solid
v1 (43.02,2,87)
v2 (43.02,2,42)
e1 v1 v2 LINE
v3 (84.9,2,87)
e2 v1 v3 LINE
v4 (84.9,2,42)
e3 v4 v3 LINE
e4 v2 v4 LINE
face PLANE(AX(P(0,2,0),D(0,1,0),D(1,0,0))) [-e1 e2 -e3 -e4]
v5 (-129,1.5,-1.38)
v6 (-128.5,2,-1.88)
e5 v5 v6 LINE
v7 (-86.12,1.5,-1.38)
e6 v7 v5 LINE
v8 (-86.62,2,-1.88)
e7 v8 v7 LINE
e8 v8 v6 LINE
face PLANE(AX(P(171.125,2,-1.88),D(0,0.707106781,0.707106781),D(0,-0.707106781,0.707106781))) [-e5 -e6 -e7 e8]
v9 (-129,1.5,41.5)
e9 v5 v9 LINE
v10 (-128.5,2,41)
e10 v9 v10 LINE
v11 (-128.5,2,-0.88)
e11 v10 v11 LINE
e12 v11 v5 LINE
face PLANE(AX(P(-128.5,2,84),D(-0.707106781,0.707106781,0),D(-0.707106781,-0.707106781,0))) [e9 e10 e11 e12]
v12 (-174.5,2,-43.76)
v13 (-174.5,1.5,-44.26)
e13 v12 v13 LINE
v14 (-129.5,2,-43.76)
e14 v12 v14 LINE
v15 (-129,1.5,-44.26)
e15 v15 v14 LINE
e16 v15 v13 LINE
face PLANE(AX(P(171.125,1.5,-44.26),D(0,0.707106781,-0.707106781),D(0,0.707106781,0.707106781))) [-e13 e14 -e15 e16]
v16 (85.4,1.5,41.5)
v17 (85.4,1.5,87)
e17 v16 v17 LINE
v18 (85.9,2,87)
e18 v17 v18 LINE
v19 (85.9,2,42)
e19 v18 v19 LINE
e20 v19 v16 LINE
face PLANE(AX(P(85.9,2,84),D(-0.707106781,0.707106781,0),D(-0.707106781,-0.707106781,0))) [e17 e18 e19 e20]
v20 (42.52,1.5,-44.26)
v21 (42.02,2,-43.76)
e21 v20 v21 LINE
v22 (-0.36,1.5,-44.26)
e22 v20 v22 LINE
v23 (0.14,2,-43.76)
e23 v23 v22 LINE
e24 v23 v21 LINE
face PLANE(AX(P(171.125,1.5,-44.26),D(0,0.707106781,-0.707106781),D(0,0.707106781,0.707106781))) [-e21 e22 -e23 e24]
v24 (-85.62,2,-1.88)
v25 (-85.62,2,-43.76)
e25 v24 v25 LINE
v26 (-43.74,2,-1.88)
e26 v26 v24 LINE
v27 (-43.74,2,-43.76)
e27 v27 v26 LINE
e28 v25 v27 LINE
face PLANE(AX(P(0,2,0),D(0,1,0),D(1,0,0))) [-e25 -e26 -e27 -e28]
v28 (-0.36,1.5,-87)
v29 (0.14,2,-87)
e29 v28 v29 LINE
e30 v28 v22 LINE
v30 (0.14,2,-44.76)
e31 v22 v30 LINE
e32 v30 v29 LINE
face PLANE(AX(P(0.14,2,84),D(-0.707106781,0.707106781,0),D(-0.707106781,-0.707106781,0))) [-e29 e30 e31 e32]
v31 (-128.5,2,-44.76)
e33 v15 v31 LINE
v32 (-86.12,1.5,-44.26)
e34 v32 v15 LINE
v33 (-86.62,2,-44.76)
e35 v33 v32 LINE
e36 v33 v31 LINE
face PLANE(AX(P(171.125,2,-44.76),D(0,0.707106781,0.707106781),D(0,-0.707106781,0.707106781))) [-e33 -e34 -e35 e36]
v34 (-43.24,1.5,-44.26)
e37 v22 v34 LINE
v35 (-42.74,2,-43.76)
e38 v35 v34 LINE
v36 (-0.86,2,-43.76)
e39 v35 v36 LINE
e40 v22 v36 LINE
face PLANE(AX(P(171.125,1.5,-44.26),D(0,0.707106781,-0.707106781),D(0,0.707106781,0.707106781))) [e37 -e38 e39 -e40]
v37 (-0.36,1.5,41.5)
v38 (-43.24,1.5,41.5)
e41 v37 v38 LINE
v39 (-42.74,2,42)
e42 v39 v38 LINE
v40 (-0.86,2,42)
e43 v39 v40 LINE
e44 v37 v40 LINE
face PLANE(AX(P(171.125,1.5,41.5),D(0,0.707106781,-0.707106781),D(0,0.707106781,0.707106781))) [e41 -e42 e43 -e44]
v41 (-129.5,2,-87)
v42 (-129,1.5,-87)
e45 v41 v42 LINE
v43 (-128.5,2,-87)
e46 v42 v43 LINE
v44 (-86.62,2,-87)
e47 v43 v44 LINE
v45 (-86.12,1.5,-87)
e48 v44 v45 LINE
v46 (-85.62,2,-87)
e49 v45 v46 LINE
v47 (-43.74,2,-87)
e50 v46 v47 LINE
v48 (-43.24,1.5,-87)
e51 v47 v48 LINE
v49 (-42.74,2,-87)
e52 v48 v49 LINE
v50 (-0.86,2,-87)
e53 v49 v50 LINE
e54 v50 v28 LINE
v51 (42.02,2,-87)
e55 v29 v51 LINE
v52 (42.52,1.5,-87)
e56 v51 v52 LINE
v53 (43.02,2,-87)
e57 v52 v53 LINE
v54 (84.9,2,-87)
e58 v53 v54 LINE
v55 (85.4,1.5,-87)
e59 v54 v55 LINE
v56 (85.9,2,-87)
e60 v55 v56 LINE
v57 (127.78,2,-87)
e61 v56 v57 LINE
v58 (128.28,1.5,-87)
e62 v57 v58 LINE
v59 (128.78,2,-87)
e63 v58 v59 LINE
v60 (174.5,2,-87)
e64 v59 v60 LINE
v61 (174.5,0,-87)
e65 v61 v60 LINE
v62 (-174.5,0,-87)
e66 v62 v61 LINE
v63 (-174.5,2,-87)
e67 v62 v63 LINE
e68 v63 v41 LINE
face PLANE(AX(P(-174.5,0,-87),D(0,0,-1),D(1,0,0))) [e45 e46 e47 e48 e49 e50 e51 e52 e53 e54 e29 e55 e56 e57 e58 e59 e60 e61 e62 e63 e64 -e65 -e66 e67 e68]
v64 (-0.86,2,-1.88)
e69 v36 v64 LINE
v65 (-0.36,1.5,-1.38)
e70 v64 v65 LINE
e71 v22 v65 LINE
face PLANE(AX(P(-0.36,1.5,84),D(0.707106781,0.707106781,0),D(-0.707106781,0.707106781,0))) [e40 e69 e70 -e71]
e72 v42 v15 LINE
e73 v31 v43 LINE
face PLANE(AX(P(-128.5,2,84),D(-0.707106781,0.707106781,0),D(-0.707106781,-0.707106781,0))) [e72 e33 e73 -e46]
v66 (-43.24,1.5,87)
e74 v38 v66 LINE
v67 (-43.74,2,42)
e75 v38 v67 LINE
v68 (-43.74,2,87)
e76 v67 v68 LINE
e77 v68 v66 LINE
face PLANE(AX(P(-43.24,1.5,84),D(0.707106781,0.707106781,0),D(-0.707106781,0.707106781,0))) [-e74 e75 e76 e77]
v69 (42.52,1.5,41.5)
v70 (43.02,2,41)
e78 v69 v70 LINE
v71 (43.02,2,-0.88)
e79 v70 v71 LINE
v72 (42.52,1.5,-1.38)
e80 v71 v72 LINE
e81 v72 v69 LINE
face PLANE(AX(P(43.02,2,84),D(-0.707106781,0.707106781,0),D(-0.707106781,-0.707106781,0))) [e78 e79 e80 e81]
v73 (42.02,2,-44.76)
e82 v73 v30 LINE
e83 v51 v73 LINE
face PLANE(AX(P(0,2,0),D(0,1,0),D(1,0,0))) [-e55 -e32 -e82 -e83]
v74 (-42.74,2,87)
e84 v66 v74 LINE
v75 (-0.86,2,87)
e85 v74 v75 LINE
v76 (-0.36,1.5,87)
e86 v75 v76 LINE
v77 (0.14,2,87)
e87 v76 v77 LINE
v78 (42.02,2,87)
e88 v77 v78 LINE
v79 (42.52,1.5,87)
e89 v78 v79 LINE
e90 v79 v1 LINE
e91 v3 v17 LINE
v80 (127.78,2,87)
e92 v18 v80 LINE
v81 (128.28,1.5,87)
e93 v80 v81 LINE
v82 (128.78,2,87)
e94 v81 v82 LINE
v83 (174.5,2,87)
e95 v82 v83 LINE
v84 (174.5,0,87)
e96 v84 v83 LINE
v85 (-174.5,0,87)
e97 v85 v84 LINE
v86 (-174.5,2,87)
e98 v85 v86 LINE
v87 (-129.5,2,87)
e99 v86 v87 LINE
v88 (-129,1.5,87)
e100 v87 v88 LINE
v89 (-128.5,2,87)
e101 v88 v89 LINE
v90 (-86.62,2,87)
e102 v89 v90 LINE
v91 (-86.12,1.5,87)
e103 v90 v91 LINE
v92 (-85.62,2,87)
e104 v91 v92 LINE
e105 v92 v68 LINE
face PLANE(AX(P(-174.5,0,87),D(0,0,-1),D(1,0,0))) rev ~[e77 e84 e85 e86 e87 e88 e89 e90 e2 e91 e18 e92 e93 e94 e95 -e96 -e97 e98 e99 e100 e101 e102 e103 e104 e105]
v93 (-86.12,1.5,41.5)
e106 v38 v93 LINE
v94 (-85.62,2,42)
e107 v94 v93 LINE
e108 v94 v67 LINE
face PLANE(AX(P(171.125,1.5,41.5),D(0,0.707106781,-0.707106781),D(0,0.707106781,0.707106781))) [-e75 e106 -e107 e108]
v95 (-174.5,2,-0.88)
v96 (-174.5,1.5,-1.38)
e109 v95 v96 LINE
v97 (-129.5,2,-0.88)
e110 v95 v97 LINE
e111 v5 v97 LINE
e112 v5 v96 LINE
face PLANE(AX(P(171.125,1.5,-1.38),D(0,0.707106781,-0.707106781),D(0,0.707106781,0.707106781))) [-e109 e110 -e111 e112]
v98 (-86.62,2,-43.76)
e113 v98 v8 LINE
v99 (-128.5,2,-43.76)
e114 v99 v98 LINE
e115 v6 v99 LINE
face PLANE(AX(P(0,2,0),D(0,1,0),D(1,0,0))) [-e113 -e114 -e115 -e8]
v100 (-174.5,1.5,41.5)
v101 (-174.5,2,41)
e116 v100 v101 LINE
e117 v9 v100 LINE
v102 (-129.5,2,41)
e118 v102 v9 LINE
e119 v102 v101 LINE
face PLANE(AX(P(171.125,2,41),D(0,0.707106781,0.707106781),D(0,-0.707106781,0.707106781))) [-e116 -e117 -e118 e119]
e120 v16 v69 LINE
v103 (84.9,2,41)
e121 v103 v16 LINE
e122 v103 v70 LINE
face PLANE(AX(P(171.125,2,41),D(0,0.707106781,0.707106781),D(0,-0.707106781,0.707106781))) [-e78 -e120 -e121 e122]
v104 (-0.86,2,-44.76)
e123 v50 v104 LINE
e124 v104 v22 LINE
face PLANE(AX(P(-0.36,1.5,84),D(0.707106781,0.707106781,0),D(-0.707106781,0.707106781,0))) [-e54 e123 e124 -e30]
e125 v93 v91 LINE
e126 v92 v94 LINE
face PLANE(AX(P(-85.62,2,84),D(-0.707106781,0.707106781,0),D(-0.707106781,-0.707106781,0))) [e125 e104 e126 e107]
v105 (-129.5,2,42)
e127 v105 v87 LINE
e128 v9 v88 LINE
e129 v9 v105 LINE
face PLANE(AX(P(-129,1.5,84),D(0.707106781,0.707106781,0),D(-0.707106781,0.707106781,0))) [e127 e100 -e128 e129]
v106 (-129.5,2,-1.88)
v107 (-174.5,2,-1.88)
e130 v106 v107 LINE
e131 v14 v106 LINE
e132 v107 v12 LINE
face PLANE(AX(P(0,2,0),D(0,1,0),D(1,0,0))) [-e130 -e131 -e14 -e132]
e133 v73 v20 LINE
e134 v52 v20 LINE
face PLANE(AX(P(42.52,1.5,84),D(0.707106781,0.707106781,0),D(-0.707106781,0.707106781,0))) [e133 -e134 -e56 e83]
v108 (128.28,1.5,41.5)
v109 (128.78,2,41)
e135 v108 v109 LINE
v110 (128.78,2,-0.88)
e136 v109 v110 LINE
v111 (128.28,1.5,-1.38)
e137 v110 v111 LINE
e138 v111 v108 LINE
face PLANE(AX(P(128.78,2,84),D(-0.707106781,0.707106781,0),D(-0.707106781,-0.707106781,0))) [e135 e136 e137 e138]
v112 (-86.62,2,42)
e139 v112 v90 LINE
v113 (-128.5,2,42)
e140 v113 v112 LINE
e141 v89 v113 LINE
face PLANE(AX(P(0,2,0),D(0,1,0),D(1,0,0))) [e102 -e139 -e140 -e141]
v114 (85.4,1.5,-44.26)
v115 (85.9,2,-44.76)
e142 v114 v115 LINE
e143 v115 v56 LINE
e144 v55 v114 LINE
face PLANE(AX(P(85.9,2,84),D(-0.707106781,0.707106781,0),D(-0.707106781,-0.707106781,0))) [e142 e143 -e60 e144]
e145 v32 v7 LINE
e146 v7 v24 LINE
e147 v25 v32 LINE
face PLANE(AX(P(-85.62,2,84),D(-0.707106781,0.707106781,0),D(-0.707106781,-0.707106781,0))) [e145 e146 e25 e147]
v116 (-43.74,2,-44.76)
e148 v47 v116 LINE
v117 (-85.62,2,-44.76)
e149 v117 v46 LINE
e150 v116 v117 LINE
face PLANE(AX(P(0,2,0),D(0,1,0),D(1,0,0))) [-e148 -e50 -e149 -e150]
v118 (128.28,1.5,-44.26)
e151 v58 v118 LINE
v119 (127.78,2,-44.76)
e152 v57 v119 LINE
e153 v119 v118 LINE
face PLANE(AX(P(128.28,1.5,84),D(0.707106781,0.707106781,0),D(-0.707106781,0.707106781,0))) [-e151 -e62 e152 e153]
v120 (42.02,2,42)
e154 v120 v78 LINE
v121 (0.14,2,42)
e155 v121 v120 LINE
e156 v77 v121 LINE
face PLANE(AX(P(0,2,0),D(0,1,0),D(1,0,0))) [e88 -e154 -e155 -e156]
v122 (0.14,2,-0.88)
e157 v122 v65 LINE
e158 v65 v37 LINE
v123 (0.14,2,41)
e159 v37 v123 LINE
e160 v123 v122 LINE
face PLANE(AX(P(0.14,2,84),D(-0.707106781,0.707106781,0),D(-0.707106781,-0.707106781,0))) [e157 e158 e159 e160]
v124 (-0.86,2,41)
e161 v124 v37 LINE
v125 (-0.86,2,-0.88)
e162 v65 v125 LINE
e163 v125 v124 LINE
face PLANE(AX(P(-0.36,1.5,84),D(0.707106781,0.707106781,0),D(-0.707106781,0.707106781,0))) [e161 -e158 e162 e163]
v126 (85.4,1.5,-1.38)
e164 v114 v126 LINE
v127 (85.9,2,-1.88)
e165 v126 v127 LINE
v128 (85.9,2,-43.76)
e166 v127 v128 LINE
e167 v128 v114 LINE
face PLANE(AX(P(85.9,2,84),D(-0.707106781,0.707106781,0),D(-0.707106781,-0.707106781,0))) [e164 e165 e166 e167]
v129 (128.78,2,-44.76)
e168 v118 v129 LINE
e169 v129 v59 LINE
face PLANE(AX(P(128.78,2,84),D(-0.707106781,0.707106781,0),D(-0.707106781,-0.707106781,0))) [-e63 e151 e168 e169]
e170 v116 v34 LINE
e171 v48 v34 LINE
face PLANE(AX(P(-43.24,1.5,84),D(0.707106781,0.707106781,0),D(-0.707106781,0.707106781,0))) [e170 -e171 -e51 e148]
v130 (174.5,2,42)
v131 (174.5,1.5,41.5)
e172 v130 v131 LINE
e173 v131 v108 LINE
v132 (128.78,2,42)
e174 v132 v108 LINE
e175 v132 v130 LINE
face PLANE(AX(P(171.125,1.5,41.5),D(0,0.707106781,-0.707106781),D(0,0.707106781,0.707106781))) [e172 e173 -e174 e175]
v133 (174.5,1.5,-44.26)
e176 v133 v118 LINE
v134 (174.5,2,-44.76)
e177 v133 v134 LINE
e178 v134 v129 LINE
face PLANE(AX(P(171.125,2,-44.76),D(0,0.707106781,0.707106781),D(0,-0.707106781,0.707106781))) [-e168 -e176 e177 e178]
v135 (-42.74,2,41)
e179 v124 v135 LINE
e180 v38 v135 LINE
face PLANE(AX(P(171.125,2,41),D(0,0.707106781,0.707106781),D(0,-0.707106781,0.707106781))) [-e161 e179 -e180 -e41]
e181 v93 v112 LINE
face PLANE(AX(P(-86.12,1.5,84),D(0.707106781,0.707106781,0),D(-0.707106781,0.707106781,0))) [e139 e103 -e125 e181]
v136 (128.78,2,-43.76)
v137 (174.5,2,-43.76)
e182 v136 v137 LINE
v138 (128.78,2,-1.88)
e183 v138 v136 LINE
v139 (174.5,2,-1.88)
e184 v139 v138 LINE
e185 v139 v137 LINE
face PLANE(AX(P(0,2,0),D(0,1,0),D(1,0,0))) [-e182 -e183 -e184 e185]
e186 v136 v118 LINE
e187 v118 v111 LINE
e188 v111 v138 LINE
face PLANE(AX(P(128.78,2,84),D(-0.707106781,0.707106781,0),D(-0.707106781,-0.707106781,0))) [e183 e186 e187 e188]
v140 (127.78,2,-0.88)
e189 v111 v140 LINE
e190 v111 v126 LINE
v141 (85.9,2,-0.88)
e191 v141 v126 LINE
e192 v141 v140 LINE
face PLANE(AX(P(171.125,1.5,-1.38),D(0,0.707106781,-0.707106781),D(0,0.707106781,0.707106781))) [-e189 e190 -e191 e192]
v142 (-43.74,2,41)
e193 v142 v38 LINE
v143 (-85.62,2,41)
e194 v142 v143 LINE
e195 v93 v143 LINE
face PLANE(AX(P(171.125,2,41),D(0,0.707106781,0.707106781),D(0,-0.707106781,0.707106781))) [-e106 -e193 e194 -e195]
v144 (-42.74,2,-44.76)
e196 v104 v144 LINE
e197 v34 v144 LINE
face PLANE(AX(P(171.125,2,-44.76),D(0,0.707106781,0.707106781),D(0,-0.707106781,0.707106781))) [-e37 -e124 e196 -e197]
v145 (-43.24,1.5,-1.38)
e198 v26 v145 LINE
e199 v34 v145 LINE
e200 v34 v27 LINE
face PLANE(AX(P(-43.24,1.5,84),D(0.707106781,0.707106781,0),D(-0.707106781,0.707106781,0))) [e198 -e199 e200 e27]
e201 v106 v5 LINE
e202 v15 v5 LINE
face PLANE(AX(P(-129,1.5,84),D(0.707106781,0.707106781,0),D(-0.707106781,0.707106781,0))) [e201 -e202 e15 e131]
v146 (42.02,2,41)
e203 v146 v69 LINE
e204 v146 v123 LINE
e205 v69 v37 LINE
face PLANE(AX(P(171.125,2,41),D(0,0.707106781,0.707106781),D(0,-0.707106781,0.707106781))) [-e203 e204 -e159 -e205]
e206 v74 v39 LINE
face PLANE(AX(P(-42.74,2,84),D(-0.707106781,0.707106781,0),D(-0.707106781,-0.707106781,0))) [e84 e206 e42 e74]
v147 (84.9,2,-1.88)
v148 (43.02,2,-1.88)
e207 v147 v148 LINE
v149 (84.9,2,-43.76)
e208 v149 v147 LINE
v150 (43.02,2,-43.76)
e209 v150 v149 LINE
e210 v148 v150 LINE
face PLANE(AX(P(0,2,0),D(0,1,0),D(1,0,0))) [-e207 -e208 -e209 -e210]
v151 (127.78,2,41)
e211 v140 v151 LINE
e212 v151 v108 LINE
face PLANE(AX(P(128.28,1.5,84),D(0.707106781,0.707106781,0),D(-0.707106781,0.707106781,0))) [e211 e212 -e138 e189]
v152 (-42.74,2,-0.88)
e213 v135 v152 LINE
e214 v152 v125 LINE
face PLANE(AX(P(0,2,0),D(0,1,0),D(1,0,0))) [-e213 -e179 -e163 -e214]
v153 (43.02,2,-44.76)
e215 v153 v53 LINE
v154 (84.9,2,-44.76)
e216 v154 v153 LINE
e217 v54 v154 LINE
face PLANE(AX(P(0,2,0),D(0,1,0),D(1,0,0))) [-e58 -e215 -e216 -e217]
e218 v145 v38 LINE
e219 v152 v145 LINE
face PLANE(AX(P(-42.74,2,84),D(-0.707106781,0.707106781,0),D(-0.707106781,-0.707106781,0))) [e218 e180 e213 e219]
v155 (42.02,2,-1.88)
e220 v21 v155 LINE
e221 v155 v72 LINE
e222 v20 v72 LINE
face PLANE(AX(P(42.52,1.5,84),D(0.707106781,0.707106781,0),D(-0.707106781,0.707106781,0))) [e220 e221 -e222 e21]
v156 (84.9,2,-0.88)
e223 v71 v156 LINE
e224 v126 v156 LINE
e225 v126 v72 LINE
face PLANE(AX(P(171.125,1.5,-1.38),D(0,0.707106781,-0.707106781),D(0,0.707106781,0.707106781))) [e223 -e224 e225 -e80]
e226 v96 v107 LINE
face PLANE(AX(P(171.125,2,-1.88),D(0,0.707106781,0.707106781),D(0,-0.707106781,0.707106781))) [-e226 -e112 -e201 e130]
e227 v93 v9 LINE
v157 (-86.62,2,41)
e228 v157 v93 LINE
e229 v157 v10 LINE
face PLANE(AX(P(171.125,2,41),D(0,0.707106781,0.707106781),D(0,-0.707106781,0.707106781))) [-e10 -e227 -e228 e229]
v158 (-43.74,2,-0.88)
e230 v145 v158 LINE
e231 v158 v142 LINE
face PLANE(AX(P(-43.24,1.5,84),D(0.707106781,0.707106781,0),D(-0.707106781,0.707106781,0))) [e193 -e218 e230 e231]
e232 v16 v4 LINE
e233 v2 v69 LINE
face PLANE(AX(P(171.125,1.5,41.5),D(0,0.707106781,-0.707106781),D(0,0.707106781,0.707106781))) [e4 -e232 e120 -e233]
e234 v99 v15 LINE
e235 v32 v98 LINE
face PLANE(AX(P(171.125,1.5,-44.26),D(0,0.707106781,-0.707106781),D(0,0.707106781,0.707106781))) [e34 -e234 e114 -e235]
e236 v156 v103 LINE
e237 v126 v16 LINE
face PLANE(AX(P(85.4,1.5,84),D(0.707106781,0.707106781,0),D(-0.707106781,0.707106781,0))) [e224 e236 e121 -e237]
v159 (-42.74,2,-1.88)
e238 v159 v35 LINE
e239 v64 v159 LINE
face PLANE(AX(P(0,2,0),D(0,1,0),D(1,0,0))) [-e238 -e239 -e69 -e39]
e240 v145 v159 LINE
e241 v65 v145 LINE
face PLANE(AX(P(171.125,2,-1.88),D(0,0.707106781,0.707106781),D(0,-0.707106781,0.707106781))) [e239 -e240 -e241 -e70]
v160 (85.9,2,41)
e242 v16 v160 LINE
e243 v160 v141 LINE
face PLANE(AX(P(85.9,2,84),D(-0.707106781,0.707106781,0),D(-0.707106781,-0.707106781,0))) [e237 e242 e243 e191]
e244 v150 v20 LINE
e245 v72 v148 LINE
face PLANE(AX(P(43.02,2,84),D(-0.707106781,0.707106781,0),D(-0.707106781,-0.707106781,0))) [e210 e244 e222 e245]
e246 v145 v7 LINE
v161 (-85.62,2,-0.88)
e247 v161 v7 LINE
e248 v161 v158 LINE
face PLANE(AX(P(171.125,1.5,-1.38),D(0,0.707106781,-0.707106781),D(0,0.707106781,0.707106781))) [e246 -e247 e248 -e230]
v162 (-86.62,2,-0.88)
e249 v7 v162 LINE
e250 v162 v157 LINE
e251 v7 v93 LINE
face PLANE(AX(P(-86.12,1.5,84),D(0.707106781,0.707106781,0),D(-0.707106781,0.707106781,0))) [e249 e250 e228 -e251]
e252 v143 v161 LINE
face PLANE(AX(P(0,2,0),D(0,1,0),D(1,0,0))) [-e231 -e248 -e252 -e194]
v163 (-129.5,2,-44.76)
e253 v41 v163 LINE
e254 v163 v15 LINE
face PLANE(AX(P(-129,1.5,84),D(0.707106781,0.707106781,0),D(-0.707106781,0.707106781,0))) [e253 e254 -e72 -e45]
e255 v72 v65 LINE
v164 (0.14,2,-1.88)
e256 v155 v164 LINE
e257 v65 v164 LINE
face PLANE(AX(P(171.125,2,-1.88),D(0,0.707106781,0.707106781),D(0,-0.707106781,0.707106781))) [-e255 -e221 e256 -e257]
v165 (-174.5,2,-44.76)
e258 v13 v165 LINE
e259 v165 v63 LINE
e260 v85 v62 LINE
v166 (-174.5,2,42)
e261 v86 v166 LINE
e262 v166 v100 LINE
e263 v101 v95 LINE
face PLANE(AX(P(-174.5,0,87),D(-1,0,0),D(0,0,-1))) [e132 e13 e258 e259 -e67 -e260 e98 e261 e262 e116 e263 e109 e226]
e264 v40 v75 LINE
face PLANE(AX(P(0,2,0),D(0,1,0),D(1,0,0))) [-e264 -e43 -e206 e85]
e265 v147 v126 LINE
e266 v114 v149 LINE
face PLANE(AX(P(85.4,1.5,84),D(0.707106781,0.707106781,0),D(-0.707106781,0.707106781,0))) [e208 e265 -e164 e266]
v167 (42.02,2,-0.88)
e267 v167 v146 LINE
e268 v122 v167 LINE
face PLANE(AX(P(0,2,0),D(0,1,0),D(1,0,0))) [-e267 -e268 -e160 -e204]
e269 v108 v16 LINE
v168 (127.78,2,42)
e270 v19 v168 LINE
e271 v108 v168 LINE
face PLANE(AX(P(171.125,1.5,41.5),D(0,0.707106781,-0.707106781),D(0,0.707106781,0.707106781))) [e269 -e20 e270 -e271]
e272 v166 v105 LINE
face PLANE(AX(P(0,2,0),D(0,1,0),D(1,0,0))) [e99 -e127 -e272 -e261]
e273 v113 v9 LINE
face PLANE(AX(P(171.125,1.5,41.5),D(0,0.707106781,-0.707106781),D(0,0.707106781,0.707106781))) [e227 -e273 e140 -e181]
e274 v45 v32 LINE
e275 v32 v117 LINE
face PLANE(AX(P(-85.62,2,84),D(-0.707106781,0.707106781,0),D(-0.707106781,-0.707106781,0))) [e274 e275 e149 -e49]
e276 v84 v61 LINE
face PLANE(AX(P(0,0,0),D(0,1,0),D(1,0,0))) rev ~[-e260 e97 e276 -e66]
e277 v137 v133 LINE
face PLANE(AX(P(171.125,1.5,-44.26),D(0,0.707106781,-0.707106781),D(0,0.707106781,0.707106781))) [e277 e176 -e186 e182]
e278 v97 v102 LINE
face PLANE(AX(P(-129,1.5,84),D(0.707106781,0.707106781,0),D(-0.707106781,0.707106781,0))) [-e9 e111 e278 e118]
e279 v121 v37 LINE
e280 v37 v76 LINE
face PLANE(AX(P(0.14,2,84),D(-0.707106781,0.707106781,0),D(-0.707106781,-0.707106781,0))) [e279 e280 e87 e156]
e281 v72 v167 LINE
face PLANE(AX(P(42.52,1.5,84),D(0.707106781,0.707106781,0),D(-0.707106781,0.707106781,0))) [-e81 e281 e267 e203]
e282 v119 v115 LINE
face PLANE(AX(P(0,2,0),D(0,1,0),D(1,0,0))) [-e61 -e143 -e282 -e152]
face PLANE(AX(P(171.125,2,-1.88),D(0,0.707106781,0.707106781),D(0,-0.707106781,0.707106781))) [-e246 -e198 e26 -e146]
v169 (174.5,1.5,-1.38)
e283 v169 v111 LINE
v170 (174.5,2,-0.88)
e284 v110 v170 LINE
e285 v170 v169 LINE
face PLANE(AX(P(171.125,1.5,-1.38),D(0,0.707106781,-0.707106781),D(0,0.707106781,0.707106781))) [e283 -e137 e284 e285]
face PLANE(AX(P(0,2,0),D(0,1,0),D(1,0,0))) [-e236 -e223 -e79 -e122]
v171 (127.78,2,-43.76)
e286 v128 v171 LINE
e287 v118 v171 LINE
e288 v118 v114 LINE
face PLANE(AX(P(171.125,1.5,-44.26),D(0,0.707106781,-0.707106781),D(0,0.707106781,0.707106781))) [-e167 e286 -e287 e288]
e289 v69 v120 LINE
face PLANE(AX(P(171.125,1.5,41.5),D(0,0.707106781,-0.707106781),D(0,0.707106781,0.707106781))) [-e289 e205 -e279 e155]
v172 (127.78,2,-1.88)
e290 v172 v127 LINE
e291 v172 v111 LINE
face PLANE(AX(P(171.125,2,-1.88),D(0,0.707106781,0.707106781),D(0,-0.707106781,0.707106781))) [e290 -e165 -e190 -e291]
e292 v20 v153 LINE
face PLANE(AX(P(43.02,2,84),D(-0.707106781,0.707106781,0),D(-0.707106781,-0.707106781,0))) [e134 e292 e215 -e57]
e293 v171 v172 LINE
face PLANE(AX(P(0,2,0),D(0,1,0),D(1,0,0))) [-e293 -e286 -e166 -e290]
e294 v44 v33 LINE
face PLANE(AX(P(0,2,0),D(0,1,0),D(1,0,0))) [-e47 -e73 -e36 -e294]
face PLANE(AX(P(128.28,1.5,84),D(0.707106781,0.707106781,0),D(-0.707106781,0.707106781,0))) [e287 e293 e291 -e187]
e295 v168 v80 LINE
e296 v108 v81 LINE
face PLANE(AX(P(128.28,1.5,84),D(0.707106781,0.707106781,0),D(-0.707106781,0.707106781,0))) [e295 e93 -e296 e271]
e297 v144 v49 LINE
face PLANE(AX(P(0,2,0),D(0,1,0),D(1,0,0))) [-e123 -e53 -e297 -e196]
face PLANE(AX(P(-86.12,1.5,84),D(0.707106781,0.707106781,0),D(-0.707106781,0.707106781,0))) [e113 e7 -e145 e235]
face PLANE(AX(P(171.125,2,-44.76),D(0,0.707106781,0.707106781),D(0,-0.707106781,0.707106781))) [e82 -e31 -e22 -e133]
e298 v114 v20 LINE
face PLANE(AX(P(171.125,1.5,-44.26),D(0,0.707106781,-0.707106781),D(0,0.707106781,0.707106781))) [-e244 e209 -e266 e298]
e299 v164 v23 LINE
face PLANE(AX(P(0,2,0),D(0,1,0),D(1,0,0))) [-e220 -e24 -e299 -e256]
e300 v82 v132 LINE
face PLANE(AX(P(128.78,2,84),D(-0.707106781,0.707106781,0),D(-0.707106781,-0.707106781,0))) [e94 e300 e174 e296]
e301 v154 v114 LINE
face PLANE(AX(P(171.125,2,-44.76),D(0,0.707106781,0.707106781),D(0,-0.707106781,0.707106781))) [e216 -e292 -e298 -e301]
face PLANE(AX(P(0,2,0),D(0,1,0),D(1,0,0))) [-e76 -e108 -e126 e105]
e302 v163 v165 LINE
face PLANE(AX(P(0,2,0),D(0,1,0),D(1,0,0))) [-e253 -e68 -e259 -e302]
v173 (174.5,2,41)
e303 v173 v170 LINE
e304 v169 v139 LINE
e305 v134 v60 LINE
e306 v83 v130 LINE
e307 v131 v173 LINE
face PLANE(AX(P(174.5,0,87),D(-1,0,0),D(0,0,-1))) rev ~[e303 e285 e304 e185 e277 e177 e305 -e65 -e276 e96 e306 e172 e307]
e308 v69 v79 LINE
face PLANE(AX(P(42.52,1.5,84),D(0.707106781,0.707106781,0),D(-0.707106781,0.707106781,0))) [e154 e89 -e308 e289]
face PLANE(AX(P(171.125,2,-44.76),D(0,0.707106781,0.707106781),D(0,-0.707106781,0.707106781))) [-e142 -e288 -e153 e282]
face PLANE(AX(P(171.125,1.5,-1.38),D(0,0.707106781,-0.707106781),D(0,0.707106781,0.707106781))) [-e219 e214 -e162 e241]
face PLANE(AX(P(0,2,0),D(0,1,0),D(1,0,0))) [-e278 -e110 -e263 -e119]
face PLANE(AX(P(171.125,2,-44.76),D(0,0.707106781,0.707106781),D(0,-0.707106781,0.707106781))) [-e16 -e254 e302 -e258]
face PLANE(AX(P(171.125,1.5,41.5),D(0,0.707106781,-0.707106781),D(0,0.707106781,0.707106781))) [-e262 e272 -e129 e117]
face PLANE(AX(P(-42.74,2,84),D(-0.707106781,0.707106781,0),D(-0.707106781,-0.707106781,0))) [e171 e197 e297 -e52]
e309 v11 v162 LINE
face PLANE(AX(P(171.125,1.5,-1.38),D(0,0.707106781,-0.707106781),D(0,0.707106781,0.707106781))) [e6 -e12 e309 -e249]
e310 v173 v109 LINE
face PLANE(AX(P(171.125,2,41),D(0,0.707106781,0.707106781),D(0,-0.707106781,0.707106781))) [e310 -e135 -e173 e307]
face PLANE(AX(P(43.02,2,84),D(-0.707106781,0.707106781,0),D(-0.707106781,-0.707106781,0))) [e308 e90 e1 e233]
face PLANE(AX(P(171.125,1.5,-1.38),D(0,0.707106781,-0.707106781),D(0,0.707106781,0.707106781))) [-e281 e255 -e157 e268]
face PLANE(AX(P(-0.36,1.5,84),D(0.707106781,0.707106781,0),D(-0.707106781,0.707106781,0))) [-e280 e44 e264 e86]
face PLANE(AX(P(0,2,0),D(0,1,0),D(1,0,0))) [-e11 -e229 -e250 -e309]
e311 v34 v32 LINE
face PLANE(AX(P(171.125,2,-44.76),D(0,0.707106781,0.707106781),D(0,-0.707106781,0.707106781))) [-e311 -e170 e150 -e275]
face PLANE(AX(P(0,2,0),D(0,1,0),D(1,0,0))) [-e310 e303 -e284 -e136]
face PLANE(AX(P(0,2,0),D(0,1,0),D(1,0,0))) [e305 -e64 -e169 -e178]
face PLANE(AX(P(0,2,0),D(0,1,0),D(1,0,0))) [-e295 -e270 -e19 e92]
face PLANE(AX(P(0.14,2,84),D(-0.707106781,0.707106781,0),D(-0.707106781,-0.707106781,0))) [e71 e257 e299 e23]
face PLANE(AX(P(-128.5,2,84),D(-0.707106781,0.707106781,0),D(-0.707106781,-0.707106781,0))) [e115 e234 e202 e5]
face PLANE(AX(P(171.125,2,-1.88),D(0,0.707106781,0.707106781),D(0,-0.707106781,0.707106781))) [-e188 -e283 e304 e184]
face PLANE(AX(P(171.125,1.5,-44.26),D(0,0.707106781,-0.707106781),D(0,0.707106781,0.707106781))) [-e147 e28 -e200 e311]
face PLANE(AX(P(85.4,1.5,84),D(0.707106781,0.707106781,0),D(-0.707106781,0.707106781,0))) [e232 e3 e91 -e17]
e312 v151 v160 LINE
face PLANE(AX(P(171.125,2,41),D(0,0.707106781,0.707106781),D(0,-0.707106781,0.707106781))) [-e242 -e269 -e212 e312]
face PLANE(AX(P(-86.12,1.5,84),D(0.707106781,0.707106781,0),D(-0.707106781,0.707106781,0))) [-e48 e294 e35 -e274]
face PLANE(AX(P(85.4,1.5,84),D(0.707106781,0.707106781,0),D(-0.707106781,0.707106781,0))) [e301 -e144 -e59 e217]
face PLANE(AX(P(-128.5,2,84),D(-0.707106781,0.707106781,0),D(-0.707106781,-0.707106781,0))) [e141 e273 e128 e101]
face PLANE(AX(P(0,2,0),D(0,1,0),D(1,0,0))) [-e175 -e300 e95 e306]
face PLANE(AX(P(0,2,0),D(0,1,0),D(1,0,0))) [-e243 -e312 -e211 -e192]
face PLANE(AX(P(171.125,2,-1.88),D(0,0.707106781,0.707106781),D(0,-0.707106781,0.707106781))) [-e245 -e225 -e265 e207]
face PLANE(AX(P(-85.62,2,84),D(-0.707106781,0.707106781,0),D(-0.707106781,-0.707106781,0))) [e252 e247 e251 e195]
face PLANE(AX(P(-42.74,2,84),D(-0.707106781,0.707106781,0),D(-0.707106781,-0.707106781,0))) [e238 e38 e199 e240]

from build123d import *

# Parameters (mm, degrees)
SKETCH1_W           = 349
SKETCH1_H           = 174
BOSS_EXTRUDE1_DEPTH = 2
CUT_EXTRUDE1_DEPTH  = 245.326114036
LPATTERN1_COUNT     = 7
LPATTERN1_PITCH     = 42.88
CUT_EXTRUDE2_DEPTH  = 357.412177998
LPATTERN2_COUNT     = 3
LPATTERN2_PITCH     = 42.88


with BuildPart() as part:
    # Sketch1 → Boss-Extrude1 (new body)
    with BuildSketch(Plane(origin=(0, 0, 0), x_dir=(1, 0, 0), z_dir=(0, 1, 0))):
        Rectangle(SKETCH1_W, SKETCH1_H)
    extrude(amount=BOSS_EXTRUDE1_DEPTH)

    # Sketch3 → Cut-Extrude1 (cut, symmetric)
    with BuildSketch(Plane.XY.offset(84)):
        Polygon((-129.5, 2), (-128.5, 2), (-129, 1.5), align=None)
    cut_extrude1 = extrude(amount=CUT_EXTRUDE1_DEPTH, both=True, mode=Mode.SUBTRACT)

    # LPattern1: Cut-Extrude1 ×7
    with Locations(*[(i * LPATTERN1_PITCH, 0, 0) for i in range(1, LPATTERN1_COUNT)]):
        add(cut_extrude1, mode=Mode.SUBTRACT)

    # Sketch4 → Cut-Extrude2 (cut, symmetric)
    with BuildSketch(Plane(origin=(171.125, 0, 0), x_dir=(0, 0, -1), z_dir=(1, 0, 0))):
        Polygon((-41.5, 2), (-41, 2), (-41.5, 1.5), (-42, 2), align=None)
    cut_extrude2 = extrude(amount=CUT_EXTRUDE2_DEPTH, both=True, mode=Mode.SUBTRACT)

    # LPattern2: Cut-Extrude2 ×3
    with Locations(*[(0, 0, -i * LPATTERN2_PITCH) for i in range(1, LPATTERN2_COUNT)]):
        add(cut_extrude2, mode=Mode.SUBTRACT)


solid = part.part
